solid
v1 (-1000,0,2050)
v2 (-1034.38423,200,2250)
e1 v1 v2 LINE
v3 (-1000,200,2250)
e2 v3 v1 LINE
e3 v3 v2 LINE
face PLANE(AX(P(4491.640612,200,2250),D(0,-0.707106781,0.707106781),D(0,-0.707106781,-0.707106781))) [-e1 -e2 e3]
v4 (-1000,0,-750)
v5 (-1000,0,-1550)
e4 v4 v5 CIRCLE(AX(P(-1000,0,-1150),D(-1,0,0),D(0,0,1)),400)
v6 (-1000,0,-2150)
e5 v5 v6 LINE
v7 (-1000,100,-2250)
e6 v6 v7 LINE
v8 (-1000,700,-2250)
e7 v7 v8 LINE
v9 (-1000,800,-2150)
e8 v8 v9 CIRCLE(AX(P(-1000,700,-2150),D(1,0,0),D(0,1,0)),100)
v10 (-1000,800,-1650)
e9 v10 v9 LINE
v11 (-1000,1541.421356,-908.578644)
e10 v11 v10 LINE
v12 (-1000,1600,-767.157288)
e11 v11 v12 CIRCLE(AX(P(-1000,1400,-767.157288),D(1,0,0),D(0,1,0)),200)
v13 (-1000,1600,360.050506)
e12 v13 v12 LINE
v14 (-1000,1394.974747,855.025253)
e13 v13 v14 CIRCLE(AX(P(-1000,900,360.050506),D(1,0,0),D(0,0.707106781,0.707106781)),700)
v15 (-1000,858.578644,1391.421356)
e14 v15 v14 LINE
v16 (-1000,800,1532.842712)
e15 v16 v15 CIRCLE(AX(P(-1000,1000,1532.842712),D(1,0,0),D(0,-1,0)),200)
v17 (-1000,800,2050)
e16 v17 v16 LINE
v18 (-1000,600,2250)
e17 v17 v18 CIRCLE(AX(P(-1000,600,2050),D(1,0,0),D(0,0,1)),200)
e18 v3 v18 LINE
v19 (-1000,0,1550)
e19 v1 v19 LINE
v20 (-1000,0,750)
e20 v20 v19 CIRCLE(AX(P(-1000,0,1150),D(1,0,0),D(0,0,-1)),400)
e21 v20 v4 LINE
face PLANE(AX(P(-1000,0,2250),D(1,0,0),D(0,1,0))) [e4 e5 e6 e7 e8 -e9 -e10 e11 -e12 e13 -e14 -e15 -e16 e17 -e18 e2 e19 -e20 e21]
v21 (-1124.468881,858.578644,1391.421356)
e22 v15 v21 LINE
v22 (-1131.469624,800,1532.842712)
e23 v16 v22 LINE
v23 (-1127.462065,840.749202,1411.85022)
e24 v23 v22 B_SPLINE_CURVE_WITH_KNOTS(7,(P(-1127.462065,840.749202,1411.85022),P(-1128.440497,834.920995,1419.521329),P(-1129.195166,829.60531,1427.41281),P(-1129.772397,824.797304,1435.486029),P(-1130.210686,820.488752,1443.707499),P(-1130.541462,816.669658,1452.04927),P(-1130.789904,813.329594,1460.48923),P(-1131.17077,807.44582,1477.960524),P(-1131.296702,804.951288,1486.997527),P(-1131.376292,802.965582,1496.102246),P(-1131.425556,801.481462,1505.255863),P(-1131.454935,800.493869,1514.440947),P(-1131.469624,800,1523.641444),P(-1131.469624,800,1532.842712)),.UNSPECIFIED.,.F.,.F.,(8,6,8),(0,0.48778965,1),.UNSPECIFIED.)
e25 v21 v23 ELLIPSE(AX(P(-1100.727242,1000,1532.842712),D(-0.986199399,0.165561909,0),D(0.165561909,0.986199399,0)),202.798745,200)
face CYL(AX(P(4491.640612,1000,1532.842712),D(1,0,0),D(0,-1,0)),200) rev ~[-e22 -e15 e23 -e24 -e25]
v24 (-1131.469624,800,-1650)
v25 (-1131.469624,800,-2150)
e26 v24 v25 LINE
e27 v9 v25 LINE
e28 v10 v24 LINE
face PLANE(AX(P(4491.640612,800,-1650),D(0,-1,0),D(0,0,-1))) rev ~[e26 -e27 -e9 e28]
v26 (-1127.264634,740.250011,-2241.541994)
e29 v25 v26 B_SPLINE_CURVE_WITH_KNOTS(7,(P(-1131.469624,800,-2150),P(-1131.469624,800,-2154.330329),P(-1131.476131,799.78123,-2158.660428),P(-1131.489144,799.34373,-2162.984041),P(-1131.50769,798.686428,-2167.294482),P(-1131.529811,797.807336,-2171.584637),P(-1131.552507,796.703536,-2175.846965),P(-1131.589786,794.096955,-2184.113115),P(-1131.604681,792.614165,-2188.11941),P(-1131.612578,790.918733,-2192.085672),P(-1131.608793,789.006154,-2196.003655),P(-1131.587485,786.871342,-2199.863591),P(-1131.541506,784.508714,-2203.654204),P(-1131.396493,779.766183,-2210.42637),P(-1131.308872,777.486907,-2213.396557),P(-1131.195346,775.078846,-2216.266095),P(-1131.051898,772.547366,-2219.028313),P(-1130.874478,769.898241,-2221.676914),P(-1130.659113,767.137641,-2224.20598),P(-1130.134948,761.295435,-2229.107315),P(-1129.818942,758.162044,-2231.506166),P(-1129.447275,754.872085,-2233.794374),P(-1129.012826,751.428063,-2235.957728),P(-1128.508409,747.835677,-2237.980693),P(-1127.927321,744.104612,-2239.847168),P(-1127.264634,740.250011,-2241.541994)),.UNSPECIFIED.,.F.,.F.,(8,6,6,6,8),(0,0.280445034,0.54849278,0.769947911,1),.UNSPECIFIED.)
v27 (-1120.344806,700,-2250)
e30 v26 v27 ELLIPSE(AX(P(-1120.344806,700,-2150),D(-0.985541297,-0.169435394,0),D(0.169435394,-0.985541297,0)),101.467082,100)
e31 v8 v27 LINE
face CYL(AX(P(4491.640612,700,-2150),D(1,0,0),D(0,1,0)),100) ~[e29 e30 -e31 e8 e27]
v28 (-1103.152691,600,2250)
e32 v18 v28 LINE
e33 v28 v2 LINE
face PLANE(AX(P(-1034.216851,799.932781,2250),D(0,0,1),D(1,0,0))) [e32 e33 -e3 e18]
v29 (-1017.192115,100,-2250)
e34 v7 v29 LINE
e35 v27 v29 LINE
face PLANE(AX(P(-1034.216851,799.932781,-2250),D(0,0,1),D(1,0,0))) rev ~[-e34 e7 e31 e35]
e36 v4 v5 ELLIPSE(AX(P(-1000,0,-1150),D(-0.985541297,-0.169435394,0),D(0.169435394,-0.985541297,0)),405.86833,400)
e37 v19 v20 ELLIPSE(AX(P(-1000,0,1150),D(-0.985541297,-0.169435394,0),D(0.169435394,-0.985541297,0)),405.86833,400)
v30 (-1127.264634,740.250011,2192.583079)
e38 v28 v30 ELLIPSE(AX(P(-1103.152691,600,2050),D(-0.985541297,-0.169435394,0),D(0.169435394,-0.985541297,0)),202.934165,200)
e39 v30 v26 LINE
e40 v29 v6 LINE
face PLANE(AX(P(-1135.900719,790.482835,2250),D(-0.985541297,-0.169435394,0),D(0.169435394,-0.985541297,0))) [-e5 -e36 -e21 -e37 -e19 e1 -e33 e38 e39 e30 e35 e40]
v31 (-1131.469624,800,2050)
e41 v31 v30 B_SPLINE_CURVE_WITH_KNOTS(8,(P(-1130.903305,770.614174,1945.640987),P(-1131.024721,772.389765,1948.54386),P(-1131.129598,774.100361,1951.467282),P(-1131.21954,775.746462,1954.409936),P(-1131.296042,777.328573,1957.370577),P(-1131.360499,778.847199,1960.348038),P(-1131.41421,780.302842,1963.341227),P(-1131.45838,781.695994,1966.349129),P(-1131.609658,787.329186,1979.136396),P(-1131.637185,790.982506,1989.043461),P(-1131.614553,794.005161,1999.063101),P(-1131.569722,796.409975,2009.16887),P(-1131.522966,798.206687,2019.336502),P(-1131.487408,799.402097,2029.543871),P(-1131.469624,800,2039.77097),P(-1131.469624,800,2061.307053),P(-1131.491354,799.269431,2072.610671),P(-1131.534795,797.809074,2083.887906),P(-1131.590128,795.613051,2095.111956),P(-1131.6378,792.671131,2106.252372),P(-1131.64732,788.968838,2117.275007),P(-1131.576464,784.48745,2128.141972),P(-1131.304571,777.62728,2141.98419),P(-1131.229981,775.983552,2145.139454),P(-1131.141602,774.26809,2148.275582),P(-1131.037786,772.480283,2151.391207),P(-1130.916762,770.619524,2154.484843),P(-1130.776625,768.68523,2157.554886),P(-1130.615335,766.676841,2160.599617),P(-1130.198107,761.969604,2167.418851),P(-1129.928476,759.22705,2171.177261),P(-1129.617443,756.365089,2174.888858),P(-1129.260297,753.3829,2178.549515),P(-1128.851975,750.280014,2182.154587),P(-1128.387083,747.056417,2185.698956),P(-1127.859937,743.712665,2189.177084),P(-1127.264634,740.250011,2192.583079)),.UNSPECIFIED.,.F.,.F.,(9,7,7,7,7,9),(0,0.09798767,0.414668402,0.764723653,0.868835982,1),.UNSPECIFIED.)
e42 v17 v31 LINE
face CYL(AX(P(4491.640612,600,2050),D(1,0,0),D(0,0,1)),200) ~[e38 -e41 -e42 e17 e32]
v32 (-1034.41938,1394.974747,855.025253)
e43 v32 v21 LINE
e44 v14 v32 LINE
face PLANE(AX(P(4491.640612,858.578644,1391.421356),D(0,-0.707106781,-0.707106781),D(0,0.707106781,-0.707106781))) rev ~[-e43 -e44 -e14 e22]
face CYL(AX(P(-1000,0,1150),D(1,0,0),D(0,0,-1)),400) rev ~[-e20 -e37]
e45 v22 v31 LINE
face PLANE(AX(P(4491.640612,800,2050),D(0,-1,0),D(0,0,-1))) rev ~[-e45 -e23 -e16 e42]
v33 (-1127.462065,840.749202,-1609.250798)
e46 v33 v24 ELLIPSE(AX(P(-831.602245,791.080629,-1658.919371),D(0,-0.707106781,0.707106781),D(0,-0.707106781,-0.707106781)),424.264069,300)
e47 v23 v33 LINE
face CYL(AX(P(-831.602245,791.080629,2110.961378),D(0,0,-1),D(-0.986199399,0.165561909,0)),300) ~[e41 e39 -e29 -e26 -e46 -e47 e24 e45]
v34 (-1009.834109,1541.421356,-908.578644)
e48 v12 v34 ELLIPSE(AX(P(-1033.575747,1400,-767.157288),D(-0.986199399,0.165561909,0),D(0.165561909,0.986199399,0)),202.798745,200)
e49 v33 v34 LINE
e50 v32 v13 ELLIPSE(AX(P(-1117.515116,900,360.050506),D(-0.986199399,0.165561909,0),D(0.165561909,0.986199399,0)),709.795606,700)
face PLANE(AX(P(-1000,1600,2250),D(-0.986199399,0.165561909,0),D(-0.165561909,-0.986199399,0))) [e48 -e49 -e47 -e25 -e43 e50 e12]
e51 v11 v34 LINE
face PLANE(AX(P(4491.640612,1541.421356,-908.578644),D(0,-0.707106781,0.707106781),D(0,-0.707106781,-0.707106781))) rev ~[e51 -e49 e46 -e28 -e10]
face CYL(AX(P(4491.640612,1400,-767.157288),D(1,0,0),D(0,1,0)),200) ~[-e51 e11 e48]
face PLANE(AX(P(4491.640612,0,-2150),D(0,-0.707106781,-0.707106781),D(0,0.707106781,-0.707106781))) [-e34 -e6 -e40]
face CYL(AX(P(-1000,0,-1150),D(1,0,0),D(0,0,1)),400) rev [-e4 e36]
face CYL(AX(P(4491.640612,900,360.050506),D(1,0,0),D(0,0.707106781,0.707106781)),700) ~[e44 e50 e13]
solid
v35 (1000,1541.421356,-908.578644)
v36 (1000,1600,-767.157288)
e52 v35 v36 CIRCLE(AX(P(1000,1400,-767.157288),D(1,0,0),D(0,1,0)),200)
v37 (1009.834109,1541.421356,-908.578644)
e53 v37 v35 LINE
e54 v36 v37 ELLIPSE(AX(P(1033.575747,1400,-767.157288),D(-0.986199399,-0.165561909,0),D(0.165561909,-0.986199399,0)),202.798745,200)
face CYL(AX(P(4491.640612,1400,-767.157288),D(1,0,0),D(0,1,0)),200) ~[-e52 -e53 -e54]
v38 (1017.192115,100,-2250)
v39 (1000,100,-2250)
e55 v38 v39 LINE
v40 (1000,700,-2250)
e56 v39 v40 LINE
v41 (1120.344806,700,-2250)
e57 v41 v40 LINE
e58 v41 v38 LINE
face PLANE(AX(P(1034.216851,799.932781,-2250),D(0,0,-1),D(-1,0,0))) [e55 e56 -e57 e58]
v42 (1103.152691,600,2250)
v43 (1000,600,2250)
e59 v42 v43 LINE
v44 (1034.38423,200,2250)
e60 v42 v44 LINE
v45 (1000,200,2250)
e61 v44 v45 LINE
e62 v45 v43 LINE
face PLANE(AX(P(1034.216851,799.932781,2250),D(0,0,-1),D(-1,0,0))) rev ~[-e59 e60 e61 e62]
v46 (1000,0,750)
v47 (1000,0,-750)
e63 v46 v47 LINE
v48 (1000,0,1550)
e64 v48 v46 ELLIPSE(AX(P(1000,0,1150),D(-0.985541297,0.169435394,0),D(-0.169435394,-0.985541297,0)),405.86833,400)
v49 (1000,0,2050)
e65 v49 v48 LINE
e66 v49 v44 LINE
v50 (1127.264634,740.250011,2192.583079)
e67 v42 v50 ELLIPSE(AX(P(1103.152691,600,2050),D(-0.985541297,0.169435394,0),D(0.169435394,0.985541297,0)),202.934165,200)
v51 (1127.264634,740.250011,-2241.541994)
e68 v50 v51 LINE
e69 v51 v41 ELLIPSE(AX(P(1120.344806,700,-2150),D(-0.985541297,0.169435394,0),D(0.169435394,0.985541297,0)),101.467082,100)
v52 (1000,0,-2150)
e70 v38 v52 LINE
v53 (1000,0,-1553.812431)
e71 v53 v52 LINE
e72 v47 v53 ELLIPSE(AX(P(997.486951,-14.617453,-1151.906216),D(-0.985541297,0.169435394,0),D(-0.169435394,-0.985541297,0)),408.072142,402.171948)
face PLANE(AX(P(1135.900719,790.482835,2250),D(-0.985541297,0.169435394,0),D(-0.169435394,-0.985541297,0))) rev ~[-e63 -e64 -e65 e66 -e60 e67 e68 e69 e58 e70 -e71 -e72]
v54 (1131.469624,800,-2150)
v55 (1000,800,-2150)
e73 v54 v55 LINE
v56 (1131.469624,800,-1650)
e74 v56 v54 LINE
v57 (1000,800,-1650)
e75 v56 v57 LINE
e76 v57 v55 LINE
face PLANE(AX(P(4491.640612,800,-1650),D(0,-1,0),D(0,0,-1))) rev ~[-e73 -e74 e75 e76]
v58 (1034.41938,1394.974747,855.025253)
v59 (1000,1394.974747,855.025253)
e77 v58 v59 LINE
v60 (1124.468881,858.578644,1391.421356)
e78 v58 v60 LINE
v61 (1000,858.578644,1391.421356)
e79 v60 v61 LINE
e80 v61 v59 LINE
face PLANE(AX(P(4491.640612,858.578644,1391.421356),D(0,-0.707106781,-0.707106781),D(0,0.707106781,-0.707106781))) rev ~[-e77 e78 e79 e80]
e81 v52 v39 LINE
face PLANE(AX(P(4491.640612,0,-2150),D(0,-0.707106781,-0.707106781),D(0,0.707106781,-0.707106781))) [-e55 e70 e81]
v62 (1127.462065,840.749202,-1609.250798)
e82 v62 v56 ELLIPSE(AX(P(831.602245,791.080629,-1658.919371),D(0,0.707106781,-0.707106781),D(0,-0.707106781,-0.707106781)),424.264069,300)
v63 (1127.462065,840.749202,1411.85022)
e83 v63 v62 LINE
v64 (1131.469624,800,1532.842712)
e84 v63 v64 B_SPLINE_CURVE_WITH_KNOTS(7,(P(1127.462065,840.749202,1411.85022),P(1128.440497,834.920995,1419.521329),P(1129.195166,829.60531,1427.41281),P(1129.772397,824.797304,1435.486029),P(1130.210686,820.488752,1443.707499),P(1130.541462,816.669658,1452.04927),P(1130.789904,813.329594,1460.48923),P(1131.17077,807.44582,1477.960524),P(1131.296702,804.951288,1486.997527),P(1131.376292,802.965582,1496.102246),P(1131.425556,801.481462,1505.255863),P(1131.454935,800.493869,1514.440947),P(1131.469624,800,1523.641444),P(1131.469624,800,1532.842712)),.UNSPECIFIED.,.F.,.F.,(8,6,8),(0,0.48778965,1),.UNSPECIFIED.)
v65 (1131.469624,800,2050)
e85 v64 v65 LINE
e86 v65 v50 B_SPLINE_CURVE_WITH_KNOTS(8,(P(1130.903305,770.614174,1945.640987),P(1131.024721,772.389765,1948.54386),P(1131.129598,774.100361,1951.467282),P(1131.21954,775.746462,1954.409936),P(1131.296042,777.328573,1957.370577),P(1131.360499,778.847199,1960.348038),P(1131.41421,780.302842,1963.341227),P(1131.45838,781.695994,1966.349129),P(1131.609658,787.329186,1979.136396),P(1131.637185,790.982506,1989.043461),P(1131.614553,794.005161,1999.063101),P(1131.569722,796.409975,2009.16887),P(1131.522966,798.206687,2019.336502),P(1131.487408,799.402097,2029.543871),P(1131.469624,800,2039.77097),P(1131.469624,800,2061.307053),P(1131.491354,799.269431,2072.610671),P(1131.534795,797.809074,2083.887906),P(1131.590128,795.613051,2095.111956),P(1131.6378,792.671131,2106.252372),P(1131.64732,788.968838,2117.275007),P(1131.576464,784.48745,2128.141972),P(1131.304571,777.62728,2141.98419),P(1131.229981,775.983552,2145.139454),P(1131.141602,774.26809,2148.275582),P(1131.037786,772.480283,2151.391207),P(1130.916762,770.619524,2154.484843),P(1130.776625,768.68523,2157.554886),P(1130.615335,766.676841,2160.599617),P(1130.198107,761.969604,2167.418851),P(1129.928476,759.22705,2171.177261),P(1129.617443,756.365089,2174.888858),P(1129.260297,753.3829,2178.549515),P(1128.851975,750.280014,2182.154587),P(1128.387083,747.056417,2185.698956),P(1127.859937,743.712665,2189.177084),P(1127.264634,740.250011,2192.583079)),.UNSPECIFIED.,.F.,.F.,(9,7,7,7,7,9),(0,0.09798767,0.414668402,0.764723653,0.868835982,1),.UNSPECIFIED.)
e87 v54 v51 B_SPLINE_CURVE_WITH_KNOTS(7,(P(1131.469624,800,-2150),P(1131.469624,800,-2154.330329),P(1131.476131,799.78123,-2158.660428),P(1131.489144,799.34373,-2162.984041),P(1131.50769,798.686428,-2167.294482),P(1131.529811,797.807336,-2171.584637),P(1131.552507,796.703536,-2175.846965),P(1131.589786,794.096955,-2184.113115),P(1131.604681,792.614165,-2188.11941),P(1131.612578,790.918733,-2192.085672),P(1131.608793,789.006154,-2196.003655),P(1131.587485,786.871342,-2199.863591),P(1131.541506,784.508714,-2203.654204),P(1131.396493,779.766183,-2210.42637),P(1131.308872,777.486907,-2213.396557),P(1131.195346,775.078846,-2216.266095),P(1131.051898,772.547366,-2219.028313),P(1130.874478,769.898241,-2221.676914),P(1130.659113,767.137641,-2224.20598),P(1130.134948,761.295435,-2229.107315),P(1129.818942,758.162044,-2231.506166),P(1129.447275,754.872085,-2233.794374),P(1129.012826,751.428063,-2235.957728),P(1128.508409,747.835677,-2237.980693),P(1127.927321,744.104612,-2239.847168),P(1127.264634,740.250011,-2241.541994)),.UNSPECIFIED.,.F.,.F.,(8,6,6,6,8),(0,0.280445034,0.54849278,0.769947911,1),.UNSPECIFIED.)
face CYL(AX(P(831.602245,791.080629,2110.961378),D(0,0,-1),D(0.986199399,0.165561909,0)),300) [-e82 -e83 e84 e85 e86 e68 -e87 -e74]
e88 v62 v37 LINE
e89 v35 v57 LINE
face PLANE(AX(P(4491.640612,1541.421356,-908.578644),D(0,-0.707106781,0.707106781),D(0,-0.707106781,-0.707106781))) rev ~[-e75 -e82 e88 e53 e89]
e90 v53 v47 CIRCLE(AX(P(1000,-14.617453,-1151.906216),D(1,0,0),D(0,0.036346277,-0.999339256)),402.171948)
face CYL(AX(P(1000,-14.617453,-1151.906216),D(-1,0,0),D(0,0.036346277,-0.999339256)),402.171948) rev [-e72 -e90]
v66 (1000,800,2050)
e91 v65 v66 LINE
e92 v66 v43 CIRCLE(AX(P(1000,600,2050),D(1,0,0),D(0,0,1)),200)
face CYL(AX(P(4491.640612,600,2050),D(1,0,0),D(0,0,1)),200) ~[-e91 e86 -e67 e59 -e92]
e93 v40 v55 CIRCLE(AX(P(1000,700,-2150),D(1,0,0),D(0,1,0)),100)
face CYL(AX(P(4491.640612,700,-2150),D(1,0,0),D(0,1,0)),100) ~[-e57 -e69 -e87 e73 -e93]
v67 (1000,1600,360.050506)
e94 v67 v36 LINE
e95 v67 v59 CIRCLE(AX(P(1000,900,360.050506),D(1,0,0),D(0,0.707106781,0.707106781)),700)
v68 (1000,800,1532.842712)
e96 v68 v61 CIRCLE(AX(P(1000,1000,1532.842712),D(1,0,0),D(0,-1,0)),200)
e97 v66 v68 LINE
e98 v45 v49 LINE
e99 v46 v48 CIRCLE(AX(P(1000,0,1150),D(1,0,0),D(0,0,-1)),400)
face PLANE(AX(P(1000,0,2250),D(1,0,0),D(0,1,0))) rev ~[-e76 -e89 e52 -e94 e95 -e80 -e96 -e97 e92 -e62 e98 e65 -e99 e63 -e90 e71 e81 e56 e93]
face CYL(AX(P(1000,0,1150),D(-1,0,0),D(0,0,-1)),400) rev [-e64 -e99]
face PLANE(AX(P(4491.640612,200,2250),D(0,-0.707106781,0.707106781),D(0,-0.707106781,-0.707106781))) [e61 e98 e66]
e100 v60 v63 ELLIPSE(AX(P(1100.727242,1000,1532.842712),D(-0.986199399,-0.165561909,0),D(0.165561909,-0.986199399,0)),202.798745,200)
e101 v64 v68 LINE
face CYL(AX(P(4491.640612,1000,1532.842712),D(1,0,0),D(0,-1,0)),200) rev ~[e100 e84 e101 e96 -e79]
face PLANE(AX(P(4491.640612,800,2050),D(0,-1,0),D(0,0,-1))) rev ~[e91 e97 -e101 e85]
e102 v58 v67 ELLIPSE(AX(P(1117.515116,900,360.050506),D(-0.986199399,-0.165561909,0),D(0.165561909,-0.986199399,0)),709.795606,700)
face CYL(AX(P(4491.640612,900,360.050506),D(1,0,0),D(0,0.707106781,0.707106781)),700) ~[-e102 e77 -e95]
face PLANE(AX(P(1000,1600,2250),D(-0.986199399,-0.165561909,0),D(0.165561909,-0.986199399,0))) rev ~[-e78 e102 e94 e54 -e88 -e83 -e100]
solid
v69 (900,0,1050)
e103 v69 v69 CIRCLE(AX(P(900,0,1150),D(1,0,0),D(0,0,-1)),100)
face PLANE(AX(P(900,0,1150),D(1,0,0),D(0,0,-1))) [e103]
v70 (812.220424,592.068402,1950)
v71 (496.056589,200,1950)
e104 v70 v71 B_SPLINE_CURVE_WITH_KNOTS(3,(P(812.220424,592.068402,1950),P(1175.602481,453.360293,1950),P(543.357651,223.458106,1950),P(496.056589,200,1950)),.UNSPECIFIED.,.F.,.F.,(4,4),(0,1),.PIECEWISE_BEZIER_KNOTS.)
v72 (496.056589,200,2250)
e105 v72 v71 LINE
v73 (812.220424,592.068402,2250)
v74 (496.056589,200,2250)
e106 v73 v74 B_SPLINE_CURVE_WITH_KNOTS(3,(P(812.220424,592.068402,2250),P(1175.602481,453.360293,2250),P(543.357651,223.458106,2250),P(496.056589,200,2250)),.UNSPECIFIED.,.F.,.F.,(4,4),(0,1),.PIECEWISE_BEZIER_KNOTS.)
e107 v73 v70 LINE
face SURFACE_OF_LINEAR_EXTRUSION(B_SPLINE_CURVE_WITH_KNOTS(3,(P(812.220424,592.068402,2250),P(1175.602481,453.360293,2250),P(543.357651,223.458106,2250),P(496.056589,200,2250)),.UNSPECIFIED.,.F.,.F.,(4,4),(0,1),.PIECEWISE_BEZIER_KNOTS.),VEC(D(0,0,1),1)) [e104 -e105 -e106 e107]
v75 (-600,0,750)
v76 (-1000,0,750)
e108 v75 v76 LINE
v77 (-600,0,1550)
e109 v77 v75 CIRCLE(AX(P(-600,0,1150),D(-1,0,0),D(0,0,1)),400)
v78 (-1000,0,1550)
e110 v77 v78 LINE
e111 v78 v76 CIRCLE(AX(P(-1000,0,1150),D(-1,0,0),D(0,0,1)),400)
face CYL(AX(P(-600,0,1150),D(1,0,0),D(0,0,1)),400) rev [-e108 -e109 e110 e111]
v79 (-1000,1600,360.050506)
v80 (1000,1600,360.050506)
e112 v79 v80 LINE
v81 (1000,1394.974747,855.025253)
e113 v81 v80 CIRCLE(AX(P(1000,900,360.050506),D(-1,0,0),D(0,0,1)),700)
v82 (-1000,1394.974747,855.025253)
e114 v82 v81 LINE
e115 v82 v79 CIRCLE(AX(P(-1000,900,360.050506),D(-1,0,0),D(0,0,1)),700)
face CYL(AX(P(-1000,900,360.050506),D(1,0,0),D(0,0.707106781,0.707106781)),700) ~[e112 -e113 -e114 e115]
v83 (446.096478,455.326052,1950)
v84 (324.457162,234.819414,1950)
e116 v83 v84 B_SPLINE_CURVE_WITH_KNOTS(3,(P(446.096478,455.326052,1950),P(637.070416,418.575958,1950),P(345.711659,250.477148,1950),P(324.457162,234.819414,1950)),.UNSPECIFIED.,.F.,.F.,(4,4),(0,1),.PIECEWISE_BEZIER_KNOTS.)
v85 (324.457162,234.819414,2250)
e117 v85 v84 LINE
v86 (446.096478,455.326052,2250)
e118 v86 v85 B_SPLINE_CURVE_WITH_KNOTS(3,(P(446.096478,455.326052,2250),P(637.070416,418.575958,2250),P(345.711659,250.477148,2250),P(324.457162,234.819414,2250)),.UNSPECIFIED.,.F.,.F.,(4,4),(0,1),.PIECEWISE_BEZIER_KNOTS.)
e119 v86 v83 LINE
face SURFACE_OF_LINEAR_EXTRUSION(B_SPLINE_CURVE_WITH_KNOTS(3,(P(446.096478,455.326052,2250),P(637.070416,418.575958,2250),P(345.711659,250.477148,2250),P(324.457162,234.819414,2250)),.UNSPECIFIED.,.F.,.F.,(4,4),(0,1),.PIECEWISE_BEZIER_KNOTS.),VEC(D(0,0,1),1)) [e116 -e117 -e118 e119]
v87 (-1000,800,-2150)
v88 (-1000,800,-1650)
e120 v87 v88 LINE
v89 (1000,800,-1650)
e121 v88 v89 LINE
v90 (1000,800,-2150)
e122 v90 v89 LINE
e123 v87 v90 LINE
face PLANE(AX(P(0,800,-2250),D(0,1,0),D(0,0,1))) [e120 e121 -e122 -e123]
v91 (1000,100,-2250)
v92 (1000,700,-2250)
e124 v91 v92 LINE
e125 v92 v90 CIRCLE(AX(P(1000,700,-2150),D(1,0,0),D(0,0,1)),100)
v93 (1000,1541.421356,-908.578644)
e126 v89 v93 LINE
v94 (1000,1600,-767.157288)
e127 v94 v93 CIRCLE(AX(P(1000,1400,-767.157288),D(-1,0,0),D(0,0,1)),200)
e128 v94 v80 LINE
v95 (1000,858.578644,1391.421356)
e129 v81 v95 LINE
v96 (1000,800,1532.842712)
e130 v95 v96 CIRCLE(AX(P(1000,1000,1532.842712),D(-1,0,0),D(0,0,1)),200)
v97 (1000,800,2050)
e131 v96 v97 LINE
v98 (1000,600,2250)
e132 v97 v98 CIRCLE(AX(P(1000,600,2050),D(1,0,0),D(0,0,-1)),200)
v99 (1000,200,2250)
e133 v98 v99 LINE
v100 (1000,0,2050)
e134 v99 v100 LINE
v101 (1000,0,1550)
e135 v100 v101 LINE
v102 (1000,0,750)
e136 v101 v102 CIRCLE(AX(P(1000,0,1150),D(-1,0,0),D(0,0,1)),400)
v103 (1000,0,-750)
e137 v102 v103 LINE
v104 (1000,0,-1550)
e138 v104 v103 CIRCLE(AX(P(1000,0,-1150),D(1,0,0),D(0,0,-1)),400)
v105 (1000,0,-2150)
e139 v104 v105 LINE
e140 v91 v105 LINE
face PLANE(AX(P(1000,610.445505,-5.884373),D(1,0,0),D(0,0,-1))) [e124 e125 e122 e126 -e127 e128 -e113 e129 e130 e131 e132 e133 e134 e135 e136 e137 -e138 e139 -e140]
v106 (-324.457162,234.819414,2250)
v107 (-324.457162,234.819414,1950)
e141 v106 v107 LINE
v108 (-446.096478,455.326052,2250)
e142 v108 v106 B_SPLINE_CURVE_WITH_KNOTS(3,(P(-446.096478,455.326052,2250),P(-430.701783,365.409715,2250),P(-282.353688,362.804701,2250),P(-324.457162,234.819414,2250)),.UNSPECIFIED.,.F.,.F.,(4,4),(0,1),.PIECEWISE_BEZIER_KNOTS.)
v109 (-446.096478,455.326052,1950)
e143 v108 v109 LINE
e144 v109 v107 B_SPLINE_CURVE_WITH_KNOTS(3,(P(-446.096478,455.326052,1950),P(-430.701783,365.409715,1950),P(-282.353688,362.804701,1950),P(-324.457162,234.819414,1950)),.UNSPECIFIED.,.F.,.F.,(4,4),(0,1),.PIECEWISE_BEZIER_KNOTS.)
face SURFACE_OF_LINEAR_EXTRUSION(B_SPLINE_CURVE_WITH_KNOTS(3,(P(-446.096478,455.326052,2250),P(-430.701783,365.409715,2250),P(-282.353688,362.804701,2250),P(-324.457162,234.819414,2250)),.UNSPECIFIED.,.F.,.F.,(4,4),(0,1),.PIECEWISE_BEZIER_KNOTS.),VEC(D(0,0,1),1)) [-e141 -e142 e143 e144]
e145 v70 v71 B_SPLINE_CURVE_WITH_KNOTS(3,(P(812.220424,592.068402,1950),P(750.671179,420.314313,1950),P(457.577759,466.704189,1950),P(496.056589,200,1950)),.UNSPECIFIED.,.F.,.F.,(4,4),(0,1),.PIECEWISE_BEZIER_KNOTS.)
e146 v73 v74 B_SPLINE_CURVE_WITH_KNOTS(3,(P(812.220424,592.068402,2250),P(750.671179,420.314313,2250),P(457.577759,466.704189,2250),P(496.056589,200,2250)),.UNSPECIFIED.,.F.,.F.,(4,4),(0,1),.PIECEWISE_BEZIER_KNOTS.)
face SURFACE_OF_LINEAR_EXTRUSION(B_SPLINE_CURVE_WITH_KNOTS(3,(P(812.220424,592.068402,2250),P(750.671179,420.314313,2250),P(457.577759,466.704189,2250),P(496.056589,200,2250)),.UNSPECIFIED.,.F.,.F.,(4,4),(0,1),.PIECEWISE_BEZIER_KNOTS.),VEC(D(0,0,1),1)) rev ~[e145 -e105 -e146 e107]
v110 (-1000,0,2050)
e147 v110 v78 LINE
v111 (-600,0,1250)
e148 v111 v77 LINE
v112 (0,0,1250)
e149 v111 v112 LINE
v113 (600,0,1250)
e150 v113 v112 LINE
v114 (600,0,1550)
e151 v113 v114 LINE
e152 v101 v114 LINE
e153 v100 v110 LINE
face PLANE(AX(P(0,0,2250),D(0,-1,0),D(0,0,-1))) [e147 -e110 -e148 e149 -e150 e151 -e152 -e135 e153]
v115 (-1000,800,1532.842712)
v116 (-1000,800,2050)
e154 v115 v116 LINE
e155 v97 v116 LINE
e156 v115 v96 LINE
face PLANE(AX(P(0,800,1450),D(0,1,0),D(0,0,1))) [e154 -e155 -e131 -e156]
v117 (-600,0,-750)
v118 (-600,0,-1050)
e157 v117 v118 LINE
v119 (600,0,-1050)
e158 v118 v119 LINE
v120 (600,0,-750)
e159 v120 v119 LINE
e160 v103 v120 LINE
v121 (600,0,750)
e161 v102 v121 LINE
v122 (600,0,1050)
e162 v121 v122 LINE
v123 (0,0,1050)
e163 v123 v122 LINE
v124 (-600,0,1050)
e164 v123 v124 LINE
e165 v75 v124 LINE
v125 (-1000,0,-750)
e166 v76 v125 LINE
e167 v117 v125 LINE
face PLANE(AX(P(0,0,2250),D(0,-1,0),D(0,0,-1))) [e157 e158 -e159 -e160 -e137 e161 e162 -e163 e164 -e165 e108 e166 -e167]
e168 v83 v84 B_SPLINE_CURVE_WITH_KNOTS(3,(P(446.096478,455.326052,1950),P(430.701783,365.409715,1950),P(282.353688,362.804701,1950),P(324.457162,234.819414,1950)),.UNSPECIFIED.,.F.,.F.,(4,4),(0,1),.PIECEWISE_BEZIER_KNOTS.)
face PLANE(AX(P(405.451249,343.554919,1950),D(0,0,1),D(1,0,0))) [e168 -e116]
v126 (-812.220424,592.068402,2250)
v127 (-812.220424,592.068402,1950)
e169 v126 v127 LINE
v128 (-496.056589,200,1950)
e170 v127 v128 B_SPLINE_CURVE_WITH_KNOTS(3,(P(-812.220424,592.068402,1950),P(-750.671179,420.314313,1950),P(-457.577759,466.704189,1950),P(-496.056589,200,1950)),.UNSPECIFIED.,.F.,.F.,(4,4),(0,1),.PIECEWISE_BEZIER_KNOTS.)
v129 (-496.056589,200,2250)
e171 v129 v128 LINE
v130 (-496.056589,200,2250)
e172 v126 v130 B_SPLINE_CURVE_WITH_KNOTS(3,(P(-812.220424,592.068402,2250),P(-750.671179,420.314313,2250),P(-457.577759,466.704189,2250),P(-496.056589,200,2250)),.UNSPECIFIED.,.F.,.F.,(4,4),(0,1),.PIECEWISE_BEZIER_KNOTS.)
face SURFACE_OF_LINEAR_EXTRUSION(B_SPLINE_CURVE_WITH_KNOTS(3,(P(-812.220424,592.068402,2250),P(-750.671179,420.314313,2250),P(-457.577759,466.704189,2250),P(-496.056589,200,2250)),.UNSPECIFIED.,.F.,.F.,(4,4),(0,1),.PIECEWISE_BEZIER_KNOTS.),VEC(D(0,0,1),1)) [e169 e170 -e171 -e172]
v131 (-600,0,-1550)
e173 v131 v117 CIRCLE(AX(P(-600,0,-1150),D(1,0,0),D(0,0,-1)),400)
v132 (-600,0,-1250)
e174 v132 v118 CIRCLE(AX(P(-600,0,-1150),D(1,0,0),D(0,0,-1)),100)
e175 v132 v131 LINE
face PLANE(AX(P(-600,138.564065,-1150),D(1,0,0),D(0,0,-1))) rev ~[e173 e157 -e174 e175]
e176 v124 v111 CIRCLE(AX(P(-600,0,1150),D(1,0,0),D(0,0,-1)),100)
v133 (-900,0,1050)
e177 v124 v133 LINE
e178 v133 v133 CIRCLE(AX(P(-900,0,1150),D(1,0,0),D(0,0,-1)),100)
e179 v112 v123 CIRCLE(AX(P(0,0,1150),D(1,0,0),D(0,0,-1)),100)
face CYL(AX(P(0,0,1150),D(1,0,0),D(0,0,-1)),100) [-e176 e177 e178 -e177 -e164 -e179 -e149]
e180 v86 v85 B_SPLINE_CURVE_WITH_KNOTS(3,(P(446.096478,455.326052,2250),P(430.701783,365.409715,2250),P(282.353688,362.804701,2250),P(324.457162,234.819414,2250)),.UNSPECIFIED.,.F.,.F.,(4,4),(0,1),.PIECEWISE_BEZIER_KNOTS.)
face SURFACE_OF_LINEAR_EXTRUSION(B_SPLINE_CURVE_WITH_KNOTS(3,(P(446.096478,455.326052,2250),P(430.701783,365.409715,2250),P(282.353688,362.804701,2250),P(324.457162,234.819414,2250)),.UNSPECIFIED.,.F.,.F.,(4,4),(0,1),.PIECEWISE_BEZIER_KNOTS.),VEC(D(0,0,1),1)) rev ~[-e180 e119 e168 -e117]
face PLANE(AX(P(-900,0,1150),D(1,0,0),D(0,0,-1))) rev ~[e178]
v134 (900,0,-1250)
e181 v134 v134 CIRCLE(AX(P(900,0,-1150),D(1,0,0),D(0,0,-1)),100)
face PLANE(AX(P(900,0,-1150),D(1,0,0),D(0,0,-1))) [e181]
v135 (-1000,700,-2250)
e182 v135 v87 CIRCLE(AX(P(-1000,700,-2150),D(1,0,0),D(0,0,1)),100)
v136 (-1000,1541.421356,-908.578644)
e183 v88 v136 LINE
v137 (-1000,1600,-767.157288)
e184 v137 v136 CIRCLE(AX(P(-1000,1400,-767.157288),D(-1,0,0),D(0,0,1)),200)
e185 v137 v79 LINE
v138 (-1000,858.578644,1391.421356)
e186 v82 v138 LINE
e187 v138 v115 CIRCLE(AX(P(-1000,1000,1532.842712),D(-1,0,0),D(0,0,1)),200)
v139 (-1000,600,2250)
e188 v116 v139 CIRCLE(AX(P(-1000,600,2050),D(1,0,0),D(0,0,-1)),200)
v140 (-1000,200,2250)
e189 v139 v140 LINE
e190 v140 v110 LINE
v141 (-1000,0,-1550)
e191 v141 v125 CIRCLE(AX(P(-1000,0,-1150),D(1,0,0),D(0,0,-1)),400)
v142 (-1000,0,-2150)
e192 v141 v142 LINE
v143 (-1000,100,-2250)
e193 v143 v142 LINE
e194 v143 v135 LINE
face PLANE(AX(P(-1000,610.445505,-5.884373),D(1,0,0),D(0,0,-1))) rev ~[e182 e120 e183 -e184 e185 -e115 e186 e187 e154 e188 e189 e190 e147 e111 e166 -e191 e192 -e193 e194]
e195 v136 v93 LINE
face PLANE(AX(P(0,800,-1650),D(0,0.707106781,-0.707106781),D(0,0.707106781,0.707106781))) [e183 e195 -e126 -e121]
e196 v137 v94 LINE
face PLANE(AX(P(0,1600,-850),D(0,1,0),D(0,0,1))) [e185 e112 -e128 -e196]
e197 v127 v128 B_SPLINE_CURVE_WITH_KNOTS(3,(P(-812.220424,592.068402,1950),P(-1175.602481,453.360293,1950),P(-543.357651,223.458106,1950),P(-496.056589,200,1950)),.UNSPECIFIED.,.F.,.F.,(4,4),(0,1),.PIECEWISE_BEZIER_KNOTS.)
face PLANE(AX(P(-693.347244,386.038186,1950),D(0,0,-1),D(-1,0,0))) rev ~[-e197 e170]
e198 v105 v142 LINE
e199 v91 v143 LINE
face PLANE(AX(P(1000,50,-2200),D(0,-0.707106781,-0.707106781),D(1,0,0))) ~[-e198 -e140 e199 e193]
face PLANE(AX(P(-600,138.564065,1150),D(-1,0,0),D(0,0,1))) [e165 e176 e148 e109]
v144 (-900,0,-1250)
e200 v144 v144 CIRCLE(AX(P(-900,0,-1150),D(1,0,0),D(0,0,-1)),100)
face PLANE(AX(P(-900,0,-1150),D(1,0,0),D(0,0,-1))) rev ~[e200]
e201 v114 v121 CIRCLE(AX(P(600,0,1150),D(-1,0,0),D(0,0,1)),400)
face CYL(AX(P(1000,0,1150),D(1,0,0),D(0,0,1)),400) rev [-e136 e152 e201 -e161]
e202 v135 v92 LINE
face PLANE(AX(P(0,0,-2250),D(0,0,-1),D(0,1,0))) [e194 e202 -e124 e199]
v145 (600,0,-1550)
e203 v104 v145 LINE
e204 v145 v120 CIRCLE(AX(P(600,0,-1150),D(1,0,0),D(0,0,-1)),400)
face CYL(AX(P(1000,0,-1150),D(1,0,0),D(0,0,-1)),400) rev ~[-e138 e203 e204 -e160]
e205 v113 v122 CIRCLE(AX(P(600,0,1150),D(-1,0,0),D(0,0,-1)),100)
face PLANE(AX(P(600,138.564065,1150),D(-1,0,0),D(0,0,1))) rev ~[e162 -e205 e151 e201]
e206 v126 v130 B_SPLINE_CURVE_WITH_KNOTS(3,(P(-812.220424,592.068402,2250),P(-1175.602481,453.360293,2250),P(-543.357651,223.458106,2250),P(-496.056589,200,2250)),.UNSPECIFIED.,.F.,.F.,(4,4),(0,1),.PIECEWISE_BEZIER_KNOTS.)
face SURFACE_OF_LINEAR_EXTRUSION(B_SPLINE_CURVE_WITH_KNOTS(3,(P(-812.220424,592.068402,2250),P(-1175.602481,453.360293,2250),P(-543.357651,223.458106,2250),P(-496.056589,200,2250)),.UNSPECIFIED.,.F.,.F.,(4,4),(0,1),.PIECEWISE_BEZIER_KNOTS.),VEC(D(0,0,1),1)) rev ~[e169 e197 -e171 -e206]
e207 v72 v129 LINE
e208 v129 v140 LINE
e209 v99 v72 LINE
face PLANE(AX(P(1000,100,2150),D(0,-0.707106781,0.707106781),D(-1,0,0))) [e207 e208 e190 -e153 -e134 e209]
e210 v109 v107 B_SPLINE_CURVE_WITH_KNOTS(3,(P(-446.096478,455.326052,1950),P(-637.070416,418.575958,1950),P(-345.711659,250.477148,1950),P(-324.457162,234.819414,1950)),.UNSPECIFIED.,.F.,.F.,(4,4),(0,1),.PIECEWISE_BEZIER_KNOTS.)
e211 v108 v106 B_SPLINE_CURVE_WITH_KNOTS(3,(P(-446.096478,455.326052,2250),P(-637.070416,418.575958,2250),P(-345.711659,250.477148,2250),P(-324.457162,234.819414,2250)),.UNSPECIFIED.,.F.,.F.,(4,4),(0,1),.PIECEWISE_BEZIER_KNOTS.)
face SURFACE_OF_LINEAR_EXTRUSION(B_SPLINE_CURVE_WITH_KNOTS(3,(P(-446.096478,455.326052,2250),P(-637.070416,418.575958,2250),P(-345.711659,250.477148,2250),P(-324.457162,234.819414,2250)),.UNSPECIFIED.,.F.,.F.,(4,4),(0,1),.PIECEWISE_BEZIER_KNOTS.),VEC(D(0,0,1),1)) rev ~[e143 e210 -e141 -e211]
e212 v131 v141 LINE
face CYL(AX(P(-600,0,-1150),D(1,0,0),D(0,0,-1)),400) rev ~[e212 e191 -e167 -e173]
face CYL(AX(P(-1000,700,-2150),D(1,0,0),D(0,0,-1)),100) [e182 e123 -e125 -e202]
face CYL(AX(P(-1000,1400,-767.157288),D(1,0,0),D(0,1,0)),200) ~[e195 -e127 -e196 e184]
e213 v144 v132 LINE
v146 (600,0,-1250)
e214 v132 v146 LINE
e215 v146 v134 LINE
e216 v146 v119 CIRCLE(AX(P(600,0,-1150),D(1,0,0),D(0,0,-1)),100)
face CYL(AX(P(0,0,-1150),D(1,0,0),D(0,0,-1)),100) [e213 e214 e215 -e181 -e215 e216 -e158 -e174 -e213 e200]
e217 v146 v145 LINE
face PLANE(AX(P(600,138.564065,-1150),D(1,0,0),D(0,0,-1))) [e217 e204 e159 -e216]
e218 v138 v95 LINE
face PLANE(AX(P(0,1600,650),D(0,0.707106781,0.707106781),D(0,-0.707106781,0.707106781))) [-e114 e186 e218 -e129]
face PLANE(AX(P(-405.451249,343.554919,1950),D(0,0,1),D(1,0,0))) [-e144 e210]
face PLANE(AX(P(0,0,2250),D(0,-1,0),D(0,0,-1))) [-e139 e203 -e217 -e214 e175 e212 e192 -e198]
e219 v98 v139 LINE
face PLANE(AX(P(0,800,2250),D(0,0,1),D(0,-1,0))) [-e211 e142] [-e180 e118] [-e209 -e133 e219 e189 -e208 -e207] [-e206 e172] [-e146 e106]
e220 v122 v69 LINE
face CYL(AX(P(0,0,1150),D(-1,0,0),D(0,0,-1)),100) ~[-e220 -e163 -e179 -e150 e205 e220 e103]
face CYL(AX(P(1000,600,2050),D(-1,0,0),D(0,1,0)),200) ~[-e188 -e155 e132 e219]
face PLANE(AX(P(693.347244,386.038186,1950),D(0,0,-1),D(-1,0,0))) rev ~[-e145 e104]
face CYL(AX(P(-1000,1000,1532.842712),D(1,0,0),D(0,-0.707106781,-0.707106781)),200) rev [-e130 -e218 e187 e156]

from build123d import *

# Parameters (mm, degrees)
BOSS_EXTRUDE1_DEPTH     = 1000
FILLET1_R               = 700
FILLET2_R               = 200
FILLET3_R               = 200
FILLET4_R               = 200
CHAMFER1_SIZE           = 200
FILLET5_R               = 100
CHAMFER2_SIZE           = 100
CUT_EXTRUDE3_DEPTH      = 400
CUT_EXTRUDE4_START      = -400
CUT_EXTRUDE4_DEPTH      = 400
SKETCH7_R               = 100
BOSS_EXTRUDE2_DEPTH     = 900
CUT_EXTRUDE6_DEPTH      = 300
BOSS_EXTRUDE3_DEPTH     = 4500
BOSS_EXTRUDE3_2_DEPTH   = 4500
CUT_EXTRUDE7_DEPTH      = 3491.640611961
CUT_EXTRUDE7_DEPTH_BACK = 3491.640611961
FILLET6_R               = 300
FILLET7_R               = 300
CUT_EXTRUDE8_DEPTH      = 3489.01206024
CUT_EXTRUDE9_DEPTH      = 3489.01206024


with BuildPart() as part:
    # Car_Profile → Boss-Extrude1 (new, symmetric)
    with BuildSketch(Plane(origin=(0, 0, 0), x_dir=(0, 0, -1), z_dir=(1, 0, 0))):
        Polygon((2250, 0), (2250, 800), (1650, 800), (850, 1600), (-650, 1600), (-1450, 800), (-2250, 800), (-2250, 0), align=None)
    extrude(amount=BOSS_EXTRUDE1_DEPTH, both=True)

    # Fillet1
    fillet1_edges = [part.edges().sort_by_distance(p)[0] for p in [
        (0, 1600, 650),
    ]]
    fillet(fillet1_edges, radius=FILLET1_R)

    # Fillet2
    fillet2_edges = [part.edges().sort_by_distance(p)[0] for p in [
        (0, 1600, -850),
    ]]
    fillet(fillet2_edges, radius=FILLET2_R)

    # Fillet3
    fillet3_edges = [part.edges().sort_by_distance(p)[0] for p in [
        (0, 800, 1450),
    ]]
    fillet(fillet3_edges, radius=FILLET3_R)

    # Fillet4
    fillet4_edges = [part.edges().sort_by_distance(p)[0] for p in [
        (0, 800, 2250),
    ]]
    fillet(fillet4_edges, radius=FILLET4_R)

    # Chamfer1
    chamfer1_edges = [part.edges().sort_by_distance(p)[0] for p in [
        (0, 0, 2250),
    ]]
    chamfer(chamfer1_edges, length=CHAMFER1_SIZE)

    # Fillet5
    fillet5_edges = [part.edges().sort_by_distance(p)[0] for p in [
        (0, 800, -2250),
    ]]
    fillet(fillet5_edges, radius=FILLET5_R)

    # Chamfer2
    chamfer2_edges = [part.edges().sort_by_distance(p)[0] for p in [
        (0, 0, -2250),
    ]]
    chamfer(chamfer2_edges, length=CHAMFER2_SIZE)

    # Sketch4 → Cut-Extrude3 (cut)
    with BuildSketch(Plane(origin=(1000, 0, 0), x_dir=(0, 0, -1), z_dir=(1, 0, 0))):
        with BuildLine():
            Line((-750, 0), (-1550, 0))
            ThreePointArc((-1550, 0), (-1150, 400), (-750, 0))
        make_face()
        with BuildLine():
            Line((750, 0), (1550, 0))
            ThreePointArc((1550, 0), (1150, 400), (750, 0))
        make_face()
    extrude(amount=-CUT_EXTRUDE3_DEPTH, mode=Mode.SUBTRACT)

    # Sketch6 → Cut-Extrude4 (cut)
    with BuildSketch(Plane.ZY.offset(1000).offset(CUT_EXTRUDE4_START)):
        with BuildLine():
            Line((-750, 0), (-1550, 0))
            ThreePointArc((-1550, 0), (-1150, 400), (-750, 0))
        make_face()
        with BuildLine():
            Line((750, 0), (1550, 0))
            ThreePointArc((1550, 0), (1150, 400), (750, 0))
        make_face()
    extrude(amount=CUT_EXTRUDE4_DEPTH, mode=Mode.SUBTRACT)

    # Sketch7 → Boss-Extrude2 (add, symmetric)
    with BuildSketch(Plane(origin=(0, 0, 0), x_dir=(0, 0, -1), z_dir=(1, 0, 0))):
        with Locations((-1150, 0)):
            Circle(SKETCH7_R)
        with Locations((1150, 0)):
            Circle(SKETCH7_R)
    extrude(amount=BOSS_EXTRUDE2_DEPTH, both=True)

    # Sketch3 → Cut-Extrude6 (cut)
    with BuildSketch(Plane.XY.offset(2250)):
        with BuildLine():
            add(Edge.make_bspline(
                [(-812.220424377, 592.068401543), (-750.671179112, 420.314312551), (-457.577758575, 466.704189274), (-496.056589451, 200)],
                knots=[0, 0, 0, 0, 1, 1, 1, 1], degree=3))
            add(Edge.make_bspline(
                [(-812.220424377, 592.068401543), (-1175.602480819, 453.360293498), (-543.357650564, 223.458106016), (-496.056589451, 200)],
                knots=[0, 0, 0, 0, 1, 1, 1, 1], degree=3))
        make_face()
        with BuildLine():
            add(Edge.make_bspline(
                [(-446.096477938, 455.326051812), (-637.070416277, 418.575957657), (-345.711658908, 250.477148017), (-324.457161733, 234.819414147)],
                knots=[0, 0, 0, 0, 1, 1, 1, 1], degree=3))
            add(Edge.make_bspline(
                [(-446.096477938, 455.326051812), (-430.701783253, 365.409715448), (-282.353688025, 362.804701396), (-324.457161733, 234.819414147)],
                knots=[0, 0, 0, 0, 1, 1, 1, 1], degree=3))
        make_face()
        with BuildLine():
            add(Edge.make_bspline(
                [(446.096477938, 455.326051812), (430.701783253, 365.409715448), (282.353688025, 362.804701396), (324.457161733, 234.819414147)],
                knots=[0, 0, 0, 0, 1, 1, 1, 1], degree=3))
            add(Edge.make_bspline(
                [(446.096477938, 455.326051812), (637.070416277, 418.575957657), (345.711658908, 250.477148017), (324.457161733, 234.819414147)],
                knots=[0, 0, 0, 0, 1, 1, 1, 1], degree=3))
        make_face()
        with BuildLine():
            add(Edge.make_bspline(
                [(812.220424377, 592.068401543), (1175.602480819, 453.360293498), (543.357650564, 223.458106016), (496.056589451, 200)],
                knots=[0, 0, 0, 0, 1, 1, 1, 1], degree=3))
            add(Edge.make_bspline(
                [(812.220424377, 592.068401543), (750.671179112, 420.314312551), (457.577758575, 466.704189274), (496.056589451, 200)],
                knots=[0, 0, 0, 0, 1, 1, 1, 1], degree=3))
        make_face()
    extrude(amount=-CUT_EXTRUDE6_DEPTH, mode=Mode.SUBTRACT)


with BuildPart() as body_2:
    # Sketch8 → Boss-Extrude3 (new body)
    with BuildSketch(Plane.XY.offset(2250)):
        Polygon((-1000, 0), (-1000, 1600), (-1135.900718999, 790.482834849), align=None)
    extrude(amount=-BOSS_EXTRUDE3_DEPTH)


with BuildPart() as body_3:
    # Sketch8 → Boss-Extrude3 2 (new body)
    with BuildSketch(Plane.XY.offset(2250)):
        Polygon((1000, 1600), (1135.900718999, 790.482834849), (1000, 0), align=None)
    extrude(amount=-BOSS_EXTRUDE3_2_DEPTH)


with BuildPart() as cut_extrude7_tool:
    # Sketch9 → Cut-Extrude7 (new, two sides: drawn at the far end of the back side and taken through both)
    with BuildSketch(Plane.ZY.offset(-1000).offset(-CUT_EXTRUDE7_DEPTH_BACK)):
        with BuildLine():
            Line((-2250, 700), (-2250, 1600))
            Line((-2250, 1600), (-767.157287525, 1600))
            ThreePointArc((-767.157287525, 1600), (-843.693973998, 1584.775906502), (-908.578643763, 1541.421356237))
            Line((-908.578643763, 1541.421356237), (-1650, 800))
            Line((-1650, 800), (-2150, 800))
            ThreePointArc((-2150, 800), (-2220.710678119, 770.710678119), (-2250, 700))
        make_face()
        with BuildLine():
            Line((2050, 800), (1532.842712475, 800))
            ThreePointArc((1532.842712475, 800), (1456.306026002, 815.224093498), (1391.421356237, 858.578643763))
            Line((1391.421356237, 858.578643763), (855.025253169, 1394.974746831))
            ThreePointArc((855.025253169, 1394.974746831), (627.928908994, 1546.715672758), (360.050506339, 1600))
            Line((360.050506339, 1600), (2250, 1600))
            Line((2250, 1600), (2250, 600))
            ThreePointArc((2250, 600), (2191.421356237, 741.421356237), (2050, 800))
        make_face()
        Polygon((2250, 200), (2050, 0), (2250, 0), align=None)
        Polygon((-2250, 100), (-2250, 0), (-2150, 0), align=None)
    extrude(amount=CUT_EXTRUDE7_DEPTH + CUT_EXTRUDE7_DEPTH_BACK)


with BuildPart() as body_2_1:
    add(body_2.part)

    # Cut-Extrude7: cut by cut_extrude7_tool
    add(cut_extrude7_tool.part, mode=Mode.SUBTRACT)

    # Fillet6
    fillet6_edges = [body_2_1.edges().sort_by_distance(p)[0] for p in [
        (-1135.900718999, 790.482834849, -40.808137785),
    ]]
    fillet(fillet6_edges, radius=FILLET6_R)

    # Sketch10 → Cut-Extrude8 (cut, through all)
    with BuildSketch(Plane(origin=(-1000, 0, 0), x_dir=(0, 0, -1), z_dir=(1, 0, 0))):
        with BuildLine():
            Line((-1550, 0), (-750, 0))
            ThreePointArc((-750, 0), (-1150, 400), (-1550, 0))
        make_face()
        with BuildLine():
            Line((1550, 0), (750, 0))
            ThreePointArc((750, 0), (1150, 400), (1550, 0))
        make_face()
    extrude(amount=-CUT_EXTRUDE8_DEPTH, mode=Mode.SUBTRACT)


with BuildPart() as body_3_1:
    add(body_3.part)

    # Cut-Extrude7: cut by cut_extrude7_tool
    add(cut_extrude7_tool.part, mode=Mode.SUBTRACT)

    # Fillet7
    fillet7_edges = [body_3_1.edges().sort_by_distance(p)[0] for p in [
        (1135.900718999, 790.482834849, -40.808137785),
    ]]
    fillet(fillet7_edges, radius=FILLET7_R)

    # Sketch11 → Cut-Extrude9 (cut, through all)
    with BuildSketch(Plane.ZY.offset(-1000)):
        with BuildLine():
            Line((1550, 0), (750, 0))
            ThreePointArc((750, 0), (1150, 400), (1550, 0))
        make_face()
        with BuildLine():
            Line((-750, 0), (-1553.812431016, 0))
            ThreePointArc((-1553.812431016, 0), (-1151.906215508, 387.554495198), (-750, 0))
        make_face()
    extrude(amount=-CUT_EXTRUDE9_DEPTH, mode=Mode.SUBTRACT)


solid = Compound([part.part, body_2_1.part, body_3_1.part])
